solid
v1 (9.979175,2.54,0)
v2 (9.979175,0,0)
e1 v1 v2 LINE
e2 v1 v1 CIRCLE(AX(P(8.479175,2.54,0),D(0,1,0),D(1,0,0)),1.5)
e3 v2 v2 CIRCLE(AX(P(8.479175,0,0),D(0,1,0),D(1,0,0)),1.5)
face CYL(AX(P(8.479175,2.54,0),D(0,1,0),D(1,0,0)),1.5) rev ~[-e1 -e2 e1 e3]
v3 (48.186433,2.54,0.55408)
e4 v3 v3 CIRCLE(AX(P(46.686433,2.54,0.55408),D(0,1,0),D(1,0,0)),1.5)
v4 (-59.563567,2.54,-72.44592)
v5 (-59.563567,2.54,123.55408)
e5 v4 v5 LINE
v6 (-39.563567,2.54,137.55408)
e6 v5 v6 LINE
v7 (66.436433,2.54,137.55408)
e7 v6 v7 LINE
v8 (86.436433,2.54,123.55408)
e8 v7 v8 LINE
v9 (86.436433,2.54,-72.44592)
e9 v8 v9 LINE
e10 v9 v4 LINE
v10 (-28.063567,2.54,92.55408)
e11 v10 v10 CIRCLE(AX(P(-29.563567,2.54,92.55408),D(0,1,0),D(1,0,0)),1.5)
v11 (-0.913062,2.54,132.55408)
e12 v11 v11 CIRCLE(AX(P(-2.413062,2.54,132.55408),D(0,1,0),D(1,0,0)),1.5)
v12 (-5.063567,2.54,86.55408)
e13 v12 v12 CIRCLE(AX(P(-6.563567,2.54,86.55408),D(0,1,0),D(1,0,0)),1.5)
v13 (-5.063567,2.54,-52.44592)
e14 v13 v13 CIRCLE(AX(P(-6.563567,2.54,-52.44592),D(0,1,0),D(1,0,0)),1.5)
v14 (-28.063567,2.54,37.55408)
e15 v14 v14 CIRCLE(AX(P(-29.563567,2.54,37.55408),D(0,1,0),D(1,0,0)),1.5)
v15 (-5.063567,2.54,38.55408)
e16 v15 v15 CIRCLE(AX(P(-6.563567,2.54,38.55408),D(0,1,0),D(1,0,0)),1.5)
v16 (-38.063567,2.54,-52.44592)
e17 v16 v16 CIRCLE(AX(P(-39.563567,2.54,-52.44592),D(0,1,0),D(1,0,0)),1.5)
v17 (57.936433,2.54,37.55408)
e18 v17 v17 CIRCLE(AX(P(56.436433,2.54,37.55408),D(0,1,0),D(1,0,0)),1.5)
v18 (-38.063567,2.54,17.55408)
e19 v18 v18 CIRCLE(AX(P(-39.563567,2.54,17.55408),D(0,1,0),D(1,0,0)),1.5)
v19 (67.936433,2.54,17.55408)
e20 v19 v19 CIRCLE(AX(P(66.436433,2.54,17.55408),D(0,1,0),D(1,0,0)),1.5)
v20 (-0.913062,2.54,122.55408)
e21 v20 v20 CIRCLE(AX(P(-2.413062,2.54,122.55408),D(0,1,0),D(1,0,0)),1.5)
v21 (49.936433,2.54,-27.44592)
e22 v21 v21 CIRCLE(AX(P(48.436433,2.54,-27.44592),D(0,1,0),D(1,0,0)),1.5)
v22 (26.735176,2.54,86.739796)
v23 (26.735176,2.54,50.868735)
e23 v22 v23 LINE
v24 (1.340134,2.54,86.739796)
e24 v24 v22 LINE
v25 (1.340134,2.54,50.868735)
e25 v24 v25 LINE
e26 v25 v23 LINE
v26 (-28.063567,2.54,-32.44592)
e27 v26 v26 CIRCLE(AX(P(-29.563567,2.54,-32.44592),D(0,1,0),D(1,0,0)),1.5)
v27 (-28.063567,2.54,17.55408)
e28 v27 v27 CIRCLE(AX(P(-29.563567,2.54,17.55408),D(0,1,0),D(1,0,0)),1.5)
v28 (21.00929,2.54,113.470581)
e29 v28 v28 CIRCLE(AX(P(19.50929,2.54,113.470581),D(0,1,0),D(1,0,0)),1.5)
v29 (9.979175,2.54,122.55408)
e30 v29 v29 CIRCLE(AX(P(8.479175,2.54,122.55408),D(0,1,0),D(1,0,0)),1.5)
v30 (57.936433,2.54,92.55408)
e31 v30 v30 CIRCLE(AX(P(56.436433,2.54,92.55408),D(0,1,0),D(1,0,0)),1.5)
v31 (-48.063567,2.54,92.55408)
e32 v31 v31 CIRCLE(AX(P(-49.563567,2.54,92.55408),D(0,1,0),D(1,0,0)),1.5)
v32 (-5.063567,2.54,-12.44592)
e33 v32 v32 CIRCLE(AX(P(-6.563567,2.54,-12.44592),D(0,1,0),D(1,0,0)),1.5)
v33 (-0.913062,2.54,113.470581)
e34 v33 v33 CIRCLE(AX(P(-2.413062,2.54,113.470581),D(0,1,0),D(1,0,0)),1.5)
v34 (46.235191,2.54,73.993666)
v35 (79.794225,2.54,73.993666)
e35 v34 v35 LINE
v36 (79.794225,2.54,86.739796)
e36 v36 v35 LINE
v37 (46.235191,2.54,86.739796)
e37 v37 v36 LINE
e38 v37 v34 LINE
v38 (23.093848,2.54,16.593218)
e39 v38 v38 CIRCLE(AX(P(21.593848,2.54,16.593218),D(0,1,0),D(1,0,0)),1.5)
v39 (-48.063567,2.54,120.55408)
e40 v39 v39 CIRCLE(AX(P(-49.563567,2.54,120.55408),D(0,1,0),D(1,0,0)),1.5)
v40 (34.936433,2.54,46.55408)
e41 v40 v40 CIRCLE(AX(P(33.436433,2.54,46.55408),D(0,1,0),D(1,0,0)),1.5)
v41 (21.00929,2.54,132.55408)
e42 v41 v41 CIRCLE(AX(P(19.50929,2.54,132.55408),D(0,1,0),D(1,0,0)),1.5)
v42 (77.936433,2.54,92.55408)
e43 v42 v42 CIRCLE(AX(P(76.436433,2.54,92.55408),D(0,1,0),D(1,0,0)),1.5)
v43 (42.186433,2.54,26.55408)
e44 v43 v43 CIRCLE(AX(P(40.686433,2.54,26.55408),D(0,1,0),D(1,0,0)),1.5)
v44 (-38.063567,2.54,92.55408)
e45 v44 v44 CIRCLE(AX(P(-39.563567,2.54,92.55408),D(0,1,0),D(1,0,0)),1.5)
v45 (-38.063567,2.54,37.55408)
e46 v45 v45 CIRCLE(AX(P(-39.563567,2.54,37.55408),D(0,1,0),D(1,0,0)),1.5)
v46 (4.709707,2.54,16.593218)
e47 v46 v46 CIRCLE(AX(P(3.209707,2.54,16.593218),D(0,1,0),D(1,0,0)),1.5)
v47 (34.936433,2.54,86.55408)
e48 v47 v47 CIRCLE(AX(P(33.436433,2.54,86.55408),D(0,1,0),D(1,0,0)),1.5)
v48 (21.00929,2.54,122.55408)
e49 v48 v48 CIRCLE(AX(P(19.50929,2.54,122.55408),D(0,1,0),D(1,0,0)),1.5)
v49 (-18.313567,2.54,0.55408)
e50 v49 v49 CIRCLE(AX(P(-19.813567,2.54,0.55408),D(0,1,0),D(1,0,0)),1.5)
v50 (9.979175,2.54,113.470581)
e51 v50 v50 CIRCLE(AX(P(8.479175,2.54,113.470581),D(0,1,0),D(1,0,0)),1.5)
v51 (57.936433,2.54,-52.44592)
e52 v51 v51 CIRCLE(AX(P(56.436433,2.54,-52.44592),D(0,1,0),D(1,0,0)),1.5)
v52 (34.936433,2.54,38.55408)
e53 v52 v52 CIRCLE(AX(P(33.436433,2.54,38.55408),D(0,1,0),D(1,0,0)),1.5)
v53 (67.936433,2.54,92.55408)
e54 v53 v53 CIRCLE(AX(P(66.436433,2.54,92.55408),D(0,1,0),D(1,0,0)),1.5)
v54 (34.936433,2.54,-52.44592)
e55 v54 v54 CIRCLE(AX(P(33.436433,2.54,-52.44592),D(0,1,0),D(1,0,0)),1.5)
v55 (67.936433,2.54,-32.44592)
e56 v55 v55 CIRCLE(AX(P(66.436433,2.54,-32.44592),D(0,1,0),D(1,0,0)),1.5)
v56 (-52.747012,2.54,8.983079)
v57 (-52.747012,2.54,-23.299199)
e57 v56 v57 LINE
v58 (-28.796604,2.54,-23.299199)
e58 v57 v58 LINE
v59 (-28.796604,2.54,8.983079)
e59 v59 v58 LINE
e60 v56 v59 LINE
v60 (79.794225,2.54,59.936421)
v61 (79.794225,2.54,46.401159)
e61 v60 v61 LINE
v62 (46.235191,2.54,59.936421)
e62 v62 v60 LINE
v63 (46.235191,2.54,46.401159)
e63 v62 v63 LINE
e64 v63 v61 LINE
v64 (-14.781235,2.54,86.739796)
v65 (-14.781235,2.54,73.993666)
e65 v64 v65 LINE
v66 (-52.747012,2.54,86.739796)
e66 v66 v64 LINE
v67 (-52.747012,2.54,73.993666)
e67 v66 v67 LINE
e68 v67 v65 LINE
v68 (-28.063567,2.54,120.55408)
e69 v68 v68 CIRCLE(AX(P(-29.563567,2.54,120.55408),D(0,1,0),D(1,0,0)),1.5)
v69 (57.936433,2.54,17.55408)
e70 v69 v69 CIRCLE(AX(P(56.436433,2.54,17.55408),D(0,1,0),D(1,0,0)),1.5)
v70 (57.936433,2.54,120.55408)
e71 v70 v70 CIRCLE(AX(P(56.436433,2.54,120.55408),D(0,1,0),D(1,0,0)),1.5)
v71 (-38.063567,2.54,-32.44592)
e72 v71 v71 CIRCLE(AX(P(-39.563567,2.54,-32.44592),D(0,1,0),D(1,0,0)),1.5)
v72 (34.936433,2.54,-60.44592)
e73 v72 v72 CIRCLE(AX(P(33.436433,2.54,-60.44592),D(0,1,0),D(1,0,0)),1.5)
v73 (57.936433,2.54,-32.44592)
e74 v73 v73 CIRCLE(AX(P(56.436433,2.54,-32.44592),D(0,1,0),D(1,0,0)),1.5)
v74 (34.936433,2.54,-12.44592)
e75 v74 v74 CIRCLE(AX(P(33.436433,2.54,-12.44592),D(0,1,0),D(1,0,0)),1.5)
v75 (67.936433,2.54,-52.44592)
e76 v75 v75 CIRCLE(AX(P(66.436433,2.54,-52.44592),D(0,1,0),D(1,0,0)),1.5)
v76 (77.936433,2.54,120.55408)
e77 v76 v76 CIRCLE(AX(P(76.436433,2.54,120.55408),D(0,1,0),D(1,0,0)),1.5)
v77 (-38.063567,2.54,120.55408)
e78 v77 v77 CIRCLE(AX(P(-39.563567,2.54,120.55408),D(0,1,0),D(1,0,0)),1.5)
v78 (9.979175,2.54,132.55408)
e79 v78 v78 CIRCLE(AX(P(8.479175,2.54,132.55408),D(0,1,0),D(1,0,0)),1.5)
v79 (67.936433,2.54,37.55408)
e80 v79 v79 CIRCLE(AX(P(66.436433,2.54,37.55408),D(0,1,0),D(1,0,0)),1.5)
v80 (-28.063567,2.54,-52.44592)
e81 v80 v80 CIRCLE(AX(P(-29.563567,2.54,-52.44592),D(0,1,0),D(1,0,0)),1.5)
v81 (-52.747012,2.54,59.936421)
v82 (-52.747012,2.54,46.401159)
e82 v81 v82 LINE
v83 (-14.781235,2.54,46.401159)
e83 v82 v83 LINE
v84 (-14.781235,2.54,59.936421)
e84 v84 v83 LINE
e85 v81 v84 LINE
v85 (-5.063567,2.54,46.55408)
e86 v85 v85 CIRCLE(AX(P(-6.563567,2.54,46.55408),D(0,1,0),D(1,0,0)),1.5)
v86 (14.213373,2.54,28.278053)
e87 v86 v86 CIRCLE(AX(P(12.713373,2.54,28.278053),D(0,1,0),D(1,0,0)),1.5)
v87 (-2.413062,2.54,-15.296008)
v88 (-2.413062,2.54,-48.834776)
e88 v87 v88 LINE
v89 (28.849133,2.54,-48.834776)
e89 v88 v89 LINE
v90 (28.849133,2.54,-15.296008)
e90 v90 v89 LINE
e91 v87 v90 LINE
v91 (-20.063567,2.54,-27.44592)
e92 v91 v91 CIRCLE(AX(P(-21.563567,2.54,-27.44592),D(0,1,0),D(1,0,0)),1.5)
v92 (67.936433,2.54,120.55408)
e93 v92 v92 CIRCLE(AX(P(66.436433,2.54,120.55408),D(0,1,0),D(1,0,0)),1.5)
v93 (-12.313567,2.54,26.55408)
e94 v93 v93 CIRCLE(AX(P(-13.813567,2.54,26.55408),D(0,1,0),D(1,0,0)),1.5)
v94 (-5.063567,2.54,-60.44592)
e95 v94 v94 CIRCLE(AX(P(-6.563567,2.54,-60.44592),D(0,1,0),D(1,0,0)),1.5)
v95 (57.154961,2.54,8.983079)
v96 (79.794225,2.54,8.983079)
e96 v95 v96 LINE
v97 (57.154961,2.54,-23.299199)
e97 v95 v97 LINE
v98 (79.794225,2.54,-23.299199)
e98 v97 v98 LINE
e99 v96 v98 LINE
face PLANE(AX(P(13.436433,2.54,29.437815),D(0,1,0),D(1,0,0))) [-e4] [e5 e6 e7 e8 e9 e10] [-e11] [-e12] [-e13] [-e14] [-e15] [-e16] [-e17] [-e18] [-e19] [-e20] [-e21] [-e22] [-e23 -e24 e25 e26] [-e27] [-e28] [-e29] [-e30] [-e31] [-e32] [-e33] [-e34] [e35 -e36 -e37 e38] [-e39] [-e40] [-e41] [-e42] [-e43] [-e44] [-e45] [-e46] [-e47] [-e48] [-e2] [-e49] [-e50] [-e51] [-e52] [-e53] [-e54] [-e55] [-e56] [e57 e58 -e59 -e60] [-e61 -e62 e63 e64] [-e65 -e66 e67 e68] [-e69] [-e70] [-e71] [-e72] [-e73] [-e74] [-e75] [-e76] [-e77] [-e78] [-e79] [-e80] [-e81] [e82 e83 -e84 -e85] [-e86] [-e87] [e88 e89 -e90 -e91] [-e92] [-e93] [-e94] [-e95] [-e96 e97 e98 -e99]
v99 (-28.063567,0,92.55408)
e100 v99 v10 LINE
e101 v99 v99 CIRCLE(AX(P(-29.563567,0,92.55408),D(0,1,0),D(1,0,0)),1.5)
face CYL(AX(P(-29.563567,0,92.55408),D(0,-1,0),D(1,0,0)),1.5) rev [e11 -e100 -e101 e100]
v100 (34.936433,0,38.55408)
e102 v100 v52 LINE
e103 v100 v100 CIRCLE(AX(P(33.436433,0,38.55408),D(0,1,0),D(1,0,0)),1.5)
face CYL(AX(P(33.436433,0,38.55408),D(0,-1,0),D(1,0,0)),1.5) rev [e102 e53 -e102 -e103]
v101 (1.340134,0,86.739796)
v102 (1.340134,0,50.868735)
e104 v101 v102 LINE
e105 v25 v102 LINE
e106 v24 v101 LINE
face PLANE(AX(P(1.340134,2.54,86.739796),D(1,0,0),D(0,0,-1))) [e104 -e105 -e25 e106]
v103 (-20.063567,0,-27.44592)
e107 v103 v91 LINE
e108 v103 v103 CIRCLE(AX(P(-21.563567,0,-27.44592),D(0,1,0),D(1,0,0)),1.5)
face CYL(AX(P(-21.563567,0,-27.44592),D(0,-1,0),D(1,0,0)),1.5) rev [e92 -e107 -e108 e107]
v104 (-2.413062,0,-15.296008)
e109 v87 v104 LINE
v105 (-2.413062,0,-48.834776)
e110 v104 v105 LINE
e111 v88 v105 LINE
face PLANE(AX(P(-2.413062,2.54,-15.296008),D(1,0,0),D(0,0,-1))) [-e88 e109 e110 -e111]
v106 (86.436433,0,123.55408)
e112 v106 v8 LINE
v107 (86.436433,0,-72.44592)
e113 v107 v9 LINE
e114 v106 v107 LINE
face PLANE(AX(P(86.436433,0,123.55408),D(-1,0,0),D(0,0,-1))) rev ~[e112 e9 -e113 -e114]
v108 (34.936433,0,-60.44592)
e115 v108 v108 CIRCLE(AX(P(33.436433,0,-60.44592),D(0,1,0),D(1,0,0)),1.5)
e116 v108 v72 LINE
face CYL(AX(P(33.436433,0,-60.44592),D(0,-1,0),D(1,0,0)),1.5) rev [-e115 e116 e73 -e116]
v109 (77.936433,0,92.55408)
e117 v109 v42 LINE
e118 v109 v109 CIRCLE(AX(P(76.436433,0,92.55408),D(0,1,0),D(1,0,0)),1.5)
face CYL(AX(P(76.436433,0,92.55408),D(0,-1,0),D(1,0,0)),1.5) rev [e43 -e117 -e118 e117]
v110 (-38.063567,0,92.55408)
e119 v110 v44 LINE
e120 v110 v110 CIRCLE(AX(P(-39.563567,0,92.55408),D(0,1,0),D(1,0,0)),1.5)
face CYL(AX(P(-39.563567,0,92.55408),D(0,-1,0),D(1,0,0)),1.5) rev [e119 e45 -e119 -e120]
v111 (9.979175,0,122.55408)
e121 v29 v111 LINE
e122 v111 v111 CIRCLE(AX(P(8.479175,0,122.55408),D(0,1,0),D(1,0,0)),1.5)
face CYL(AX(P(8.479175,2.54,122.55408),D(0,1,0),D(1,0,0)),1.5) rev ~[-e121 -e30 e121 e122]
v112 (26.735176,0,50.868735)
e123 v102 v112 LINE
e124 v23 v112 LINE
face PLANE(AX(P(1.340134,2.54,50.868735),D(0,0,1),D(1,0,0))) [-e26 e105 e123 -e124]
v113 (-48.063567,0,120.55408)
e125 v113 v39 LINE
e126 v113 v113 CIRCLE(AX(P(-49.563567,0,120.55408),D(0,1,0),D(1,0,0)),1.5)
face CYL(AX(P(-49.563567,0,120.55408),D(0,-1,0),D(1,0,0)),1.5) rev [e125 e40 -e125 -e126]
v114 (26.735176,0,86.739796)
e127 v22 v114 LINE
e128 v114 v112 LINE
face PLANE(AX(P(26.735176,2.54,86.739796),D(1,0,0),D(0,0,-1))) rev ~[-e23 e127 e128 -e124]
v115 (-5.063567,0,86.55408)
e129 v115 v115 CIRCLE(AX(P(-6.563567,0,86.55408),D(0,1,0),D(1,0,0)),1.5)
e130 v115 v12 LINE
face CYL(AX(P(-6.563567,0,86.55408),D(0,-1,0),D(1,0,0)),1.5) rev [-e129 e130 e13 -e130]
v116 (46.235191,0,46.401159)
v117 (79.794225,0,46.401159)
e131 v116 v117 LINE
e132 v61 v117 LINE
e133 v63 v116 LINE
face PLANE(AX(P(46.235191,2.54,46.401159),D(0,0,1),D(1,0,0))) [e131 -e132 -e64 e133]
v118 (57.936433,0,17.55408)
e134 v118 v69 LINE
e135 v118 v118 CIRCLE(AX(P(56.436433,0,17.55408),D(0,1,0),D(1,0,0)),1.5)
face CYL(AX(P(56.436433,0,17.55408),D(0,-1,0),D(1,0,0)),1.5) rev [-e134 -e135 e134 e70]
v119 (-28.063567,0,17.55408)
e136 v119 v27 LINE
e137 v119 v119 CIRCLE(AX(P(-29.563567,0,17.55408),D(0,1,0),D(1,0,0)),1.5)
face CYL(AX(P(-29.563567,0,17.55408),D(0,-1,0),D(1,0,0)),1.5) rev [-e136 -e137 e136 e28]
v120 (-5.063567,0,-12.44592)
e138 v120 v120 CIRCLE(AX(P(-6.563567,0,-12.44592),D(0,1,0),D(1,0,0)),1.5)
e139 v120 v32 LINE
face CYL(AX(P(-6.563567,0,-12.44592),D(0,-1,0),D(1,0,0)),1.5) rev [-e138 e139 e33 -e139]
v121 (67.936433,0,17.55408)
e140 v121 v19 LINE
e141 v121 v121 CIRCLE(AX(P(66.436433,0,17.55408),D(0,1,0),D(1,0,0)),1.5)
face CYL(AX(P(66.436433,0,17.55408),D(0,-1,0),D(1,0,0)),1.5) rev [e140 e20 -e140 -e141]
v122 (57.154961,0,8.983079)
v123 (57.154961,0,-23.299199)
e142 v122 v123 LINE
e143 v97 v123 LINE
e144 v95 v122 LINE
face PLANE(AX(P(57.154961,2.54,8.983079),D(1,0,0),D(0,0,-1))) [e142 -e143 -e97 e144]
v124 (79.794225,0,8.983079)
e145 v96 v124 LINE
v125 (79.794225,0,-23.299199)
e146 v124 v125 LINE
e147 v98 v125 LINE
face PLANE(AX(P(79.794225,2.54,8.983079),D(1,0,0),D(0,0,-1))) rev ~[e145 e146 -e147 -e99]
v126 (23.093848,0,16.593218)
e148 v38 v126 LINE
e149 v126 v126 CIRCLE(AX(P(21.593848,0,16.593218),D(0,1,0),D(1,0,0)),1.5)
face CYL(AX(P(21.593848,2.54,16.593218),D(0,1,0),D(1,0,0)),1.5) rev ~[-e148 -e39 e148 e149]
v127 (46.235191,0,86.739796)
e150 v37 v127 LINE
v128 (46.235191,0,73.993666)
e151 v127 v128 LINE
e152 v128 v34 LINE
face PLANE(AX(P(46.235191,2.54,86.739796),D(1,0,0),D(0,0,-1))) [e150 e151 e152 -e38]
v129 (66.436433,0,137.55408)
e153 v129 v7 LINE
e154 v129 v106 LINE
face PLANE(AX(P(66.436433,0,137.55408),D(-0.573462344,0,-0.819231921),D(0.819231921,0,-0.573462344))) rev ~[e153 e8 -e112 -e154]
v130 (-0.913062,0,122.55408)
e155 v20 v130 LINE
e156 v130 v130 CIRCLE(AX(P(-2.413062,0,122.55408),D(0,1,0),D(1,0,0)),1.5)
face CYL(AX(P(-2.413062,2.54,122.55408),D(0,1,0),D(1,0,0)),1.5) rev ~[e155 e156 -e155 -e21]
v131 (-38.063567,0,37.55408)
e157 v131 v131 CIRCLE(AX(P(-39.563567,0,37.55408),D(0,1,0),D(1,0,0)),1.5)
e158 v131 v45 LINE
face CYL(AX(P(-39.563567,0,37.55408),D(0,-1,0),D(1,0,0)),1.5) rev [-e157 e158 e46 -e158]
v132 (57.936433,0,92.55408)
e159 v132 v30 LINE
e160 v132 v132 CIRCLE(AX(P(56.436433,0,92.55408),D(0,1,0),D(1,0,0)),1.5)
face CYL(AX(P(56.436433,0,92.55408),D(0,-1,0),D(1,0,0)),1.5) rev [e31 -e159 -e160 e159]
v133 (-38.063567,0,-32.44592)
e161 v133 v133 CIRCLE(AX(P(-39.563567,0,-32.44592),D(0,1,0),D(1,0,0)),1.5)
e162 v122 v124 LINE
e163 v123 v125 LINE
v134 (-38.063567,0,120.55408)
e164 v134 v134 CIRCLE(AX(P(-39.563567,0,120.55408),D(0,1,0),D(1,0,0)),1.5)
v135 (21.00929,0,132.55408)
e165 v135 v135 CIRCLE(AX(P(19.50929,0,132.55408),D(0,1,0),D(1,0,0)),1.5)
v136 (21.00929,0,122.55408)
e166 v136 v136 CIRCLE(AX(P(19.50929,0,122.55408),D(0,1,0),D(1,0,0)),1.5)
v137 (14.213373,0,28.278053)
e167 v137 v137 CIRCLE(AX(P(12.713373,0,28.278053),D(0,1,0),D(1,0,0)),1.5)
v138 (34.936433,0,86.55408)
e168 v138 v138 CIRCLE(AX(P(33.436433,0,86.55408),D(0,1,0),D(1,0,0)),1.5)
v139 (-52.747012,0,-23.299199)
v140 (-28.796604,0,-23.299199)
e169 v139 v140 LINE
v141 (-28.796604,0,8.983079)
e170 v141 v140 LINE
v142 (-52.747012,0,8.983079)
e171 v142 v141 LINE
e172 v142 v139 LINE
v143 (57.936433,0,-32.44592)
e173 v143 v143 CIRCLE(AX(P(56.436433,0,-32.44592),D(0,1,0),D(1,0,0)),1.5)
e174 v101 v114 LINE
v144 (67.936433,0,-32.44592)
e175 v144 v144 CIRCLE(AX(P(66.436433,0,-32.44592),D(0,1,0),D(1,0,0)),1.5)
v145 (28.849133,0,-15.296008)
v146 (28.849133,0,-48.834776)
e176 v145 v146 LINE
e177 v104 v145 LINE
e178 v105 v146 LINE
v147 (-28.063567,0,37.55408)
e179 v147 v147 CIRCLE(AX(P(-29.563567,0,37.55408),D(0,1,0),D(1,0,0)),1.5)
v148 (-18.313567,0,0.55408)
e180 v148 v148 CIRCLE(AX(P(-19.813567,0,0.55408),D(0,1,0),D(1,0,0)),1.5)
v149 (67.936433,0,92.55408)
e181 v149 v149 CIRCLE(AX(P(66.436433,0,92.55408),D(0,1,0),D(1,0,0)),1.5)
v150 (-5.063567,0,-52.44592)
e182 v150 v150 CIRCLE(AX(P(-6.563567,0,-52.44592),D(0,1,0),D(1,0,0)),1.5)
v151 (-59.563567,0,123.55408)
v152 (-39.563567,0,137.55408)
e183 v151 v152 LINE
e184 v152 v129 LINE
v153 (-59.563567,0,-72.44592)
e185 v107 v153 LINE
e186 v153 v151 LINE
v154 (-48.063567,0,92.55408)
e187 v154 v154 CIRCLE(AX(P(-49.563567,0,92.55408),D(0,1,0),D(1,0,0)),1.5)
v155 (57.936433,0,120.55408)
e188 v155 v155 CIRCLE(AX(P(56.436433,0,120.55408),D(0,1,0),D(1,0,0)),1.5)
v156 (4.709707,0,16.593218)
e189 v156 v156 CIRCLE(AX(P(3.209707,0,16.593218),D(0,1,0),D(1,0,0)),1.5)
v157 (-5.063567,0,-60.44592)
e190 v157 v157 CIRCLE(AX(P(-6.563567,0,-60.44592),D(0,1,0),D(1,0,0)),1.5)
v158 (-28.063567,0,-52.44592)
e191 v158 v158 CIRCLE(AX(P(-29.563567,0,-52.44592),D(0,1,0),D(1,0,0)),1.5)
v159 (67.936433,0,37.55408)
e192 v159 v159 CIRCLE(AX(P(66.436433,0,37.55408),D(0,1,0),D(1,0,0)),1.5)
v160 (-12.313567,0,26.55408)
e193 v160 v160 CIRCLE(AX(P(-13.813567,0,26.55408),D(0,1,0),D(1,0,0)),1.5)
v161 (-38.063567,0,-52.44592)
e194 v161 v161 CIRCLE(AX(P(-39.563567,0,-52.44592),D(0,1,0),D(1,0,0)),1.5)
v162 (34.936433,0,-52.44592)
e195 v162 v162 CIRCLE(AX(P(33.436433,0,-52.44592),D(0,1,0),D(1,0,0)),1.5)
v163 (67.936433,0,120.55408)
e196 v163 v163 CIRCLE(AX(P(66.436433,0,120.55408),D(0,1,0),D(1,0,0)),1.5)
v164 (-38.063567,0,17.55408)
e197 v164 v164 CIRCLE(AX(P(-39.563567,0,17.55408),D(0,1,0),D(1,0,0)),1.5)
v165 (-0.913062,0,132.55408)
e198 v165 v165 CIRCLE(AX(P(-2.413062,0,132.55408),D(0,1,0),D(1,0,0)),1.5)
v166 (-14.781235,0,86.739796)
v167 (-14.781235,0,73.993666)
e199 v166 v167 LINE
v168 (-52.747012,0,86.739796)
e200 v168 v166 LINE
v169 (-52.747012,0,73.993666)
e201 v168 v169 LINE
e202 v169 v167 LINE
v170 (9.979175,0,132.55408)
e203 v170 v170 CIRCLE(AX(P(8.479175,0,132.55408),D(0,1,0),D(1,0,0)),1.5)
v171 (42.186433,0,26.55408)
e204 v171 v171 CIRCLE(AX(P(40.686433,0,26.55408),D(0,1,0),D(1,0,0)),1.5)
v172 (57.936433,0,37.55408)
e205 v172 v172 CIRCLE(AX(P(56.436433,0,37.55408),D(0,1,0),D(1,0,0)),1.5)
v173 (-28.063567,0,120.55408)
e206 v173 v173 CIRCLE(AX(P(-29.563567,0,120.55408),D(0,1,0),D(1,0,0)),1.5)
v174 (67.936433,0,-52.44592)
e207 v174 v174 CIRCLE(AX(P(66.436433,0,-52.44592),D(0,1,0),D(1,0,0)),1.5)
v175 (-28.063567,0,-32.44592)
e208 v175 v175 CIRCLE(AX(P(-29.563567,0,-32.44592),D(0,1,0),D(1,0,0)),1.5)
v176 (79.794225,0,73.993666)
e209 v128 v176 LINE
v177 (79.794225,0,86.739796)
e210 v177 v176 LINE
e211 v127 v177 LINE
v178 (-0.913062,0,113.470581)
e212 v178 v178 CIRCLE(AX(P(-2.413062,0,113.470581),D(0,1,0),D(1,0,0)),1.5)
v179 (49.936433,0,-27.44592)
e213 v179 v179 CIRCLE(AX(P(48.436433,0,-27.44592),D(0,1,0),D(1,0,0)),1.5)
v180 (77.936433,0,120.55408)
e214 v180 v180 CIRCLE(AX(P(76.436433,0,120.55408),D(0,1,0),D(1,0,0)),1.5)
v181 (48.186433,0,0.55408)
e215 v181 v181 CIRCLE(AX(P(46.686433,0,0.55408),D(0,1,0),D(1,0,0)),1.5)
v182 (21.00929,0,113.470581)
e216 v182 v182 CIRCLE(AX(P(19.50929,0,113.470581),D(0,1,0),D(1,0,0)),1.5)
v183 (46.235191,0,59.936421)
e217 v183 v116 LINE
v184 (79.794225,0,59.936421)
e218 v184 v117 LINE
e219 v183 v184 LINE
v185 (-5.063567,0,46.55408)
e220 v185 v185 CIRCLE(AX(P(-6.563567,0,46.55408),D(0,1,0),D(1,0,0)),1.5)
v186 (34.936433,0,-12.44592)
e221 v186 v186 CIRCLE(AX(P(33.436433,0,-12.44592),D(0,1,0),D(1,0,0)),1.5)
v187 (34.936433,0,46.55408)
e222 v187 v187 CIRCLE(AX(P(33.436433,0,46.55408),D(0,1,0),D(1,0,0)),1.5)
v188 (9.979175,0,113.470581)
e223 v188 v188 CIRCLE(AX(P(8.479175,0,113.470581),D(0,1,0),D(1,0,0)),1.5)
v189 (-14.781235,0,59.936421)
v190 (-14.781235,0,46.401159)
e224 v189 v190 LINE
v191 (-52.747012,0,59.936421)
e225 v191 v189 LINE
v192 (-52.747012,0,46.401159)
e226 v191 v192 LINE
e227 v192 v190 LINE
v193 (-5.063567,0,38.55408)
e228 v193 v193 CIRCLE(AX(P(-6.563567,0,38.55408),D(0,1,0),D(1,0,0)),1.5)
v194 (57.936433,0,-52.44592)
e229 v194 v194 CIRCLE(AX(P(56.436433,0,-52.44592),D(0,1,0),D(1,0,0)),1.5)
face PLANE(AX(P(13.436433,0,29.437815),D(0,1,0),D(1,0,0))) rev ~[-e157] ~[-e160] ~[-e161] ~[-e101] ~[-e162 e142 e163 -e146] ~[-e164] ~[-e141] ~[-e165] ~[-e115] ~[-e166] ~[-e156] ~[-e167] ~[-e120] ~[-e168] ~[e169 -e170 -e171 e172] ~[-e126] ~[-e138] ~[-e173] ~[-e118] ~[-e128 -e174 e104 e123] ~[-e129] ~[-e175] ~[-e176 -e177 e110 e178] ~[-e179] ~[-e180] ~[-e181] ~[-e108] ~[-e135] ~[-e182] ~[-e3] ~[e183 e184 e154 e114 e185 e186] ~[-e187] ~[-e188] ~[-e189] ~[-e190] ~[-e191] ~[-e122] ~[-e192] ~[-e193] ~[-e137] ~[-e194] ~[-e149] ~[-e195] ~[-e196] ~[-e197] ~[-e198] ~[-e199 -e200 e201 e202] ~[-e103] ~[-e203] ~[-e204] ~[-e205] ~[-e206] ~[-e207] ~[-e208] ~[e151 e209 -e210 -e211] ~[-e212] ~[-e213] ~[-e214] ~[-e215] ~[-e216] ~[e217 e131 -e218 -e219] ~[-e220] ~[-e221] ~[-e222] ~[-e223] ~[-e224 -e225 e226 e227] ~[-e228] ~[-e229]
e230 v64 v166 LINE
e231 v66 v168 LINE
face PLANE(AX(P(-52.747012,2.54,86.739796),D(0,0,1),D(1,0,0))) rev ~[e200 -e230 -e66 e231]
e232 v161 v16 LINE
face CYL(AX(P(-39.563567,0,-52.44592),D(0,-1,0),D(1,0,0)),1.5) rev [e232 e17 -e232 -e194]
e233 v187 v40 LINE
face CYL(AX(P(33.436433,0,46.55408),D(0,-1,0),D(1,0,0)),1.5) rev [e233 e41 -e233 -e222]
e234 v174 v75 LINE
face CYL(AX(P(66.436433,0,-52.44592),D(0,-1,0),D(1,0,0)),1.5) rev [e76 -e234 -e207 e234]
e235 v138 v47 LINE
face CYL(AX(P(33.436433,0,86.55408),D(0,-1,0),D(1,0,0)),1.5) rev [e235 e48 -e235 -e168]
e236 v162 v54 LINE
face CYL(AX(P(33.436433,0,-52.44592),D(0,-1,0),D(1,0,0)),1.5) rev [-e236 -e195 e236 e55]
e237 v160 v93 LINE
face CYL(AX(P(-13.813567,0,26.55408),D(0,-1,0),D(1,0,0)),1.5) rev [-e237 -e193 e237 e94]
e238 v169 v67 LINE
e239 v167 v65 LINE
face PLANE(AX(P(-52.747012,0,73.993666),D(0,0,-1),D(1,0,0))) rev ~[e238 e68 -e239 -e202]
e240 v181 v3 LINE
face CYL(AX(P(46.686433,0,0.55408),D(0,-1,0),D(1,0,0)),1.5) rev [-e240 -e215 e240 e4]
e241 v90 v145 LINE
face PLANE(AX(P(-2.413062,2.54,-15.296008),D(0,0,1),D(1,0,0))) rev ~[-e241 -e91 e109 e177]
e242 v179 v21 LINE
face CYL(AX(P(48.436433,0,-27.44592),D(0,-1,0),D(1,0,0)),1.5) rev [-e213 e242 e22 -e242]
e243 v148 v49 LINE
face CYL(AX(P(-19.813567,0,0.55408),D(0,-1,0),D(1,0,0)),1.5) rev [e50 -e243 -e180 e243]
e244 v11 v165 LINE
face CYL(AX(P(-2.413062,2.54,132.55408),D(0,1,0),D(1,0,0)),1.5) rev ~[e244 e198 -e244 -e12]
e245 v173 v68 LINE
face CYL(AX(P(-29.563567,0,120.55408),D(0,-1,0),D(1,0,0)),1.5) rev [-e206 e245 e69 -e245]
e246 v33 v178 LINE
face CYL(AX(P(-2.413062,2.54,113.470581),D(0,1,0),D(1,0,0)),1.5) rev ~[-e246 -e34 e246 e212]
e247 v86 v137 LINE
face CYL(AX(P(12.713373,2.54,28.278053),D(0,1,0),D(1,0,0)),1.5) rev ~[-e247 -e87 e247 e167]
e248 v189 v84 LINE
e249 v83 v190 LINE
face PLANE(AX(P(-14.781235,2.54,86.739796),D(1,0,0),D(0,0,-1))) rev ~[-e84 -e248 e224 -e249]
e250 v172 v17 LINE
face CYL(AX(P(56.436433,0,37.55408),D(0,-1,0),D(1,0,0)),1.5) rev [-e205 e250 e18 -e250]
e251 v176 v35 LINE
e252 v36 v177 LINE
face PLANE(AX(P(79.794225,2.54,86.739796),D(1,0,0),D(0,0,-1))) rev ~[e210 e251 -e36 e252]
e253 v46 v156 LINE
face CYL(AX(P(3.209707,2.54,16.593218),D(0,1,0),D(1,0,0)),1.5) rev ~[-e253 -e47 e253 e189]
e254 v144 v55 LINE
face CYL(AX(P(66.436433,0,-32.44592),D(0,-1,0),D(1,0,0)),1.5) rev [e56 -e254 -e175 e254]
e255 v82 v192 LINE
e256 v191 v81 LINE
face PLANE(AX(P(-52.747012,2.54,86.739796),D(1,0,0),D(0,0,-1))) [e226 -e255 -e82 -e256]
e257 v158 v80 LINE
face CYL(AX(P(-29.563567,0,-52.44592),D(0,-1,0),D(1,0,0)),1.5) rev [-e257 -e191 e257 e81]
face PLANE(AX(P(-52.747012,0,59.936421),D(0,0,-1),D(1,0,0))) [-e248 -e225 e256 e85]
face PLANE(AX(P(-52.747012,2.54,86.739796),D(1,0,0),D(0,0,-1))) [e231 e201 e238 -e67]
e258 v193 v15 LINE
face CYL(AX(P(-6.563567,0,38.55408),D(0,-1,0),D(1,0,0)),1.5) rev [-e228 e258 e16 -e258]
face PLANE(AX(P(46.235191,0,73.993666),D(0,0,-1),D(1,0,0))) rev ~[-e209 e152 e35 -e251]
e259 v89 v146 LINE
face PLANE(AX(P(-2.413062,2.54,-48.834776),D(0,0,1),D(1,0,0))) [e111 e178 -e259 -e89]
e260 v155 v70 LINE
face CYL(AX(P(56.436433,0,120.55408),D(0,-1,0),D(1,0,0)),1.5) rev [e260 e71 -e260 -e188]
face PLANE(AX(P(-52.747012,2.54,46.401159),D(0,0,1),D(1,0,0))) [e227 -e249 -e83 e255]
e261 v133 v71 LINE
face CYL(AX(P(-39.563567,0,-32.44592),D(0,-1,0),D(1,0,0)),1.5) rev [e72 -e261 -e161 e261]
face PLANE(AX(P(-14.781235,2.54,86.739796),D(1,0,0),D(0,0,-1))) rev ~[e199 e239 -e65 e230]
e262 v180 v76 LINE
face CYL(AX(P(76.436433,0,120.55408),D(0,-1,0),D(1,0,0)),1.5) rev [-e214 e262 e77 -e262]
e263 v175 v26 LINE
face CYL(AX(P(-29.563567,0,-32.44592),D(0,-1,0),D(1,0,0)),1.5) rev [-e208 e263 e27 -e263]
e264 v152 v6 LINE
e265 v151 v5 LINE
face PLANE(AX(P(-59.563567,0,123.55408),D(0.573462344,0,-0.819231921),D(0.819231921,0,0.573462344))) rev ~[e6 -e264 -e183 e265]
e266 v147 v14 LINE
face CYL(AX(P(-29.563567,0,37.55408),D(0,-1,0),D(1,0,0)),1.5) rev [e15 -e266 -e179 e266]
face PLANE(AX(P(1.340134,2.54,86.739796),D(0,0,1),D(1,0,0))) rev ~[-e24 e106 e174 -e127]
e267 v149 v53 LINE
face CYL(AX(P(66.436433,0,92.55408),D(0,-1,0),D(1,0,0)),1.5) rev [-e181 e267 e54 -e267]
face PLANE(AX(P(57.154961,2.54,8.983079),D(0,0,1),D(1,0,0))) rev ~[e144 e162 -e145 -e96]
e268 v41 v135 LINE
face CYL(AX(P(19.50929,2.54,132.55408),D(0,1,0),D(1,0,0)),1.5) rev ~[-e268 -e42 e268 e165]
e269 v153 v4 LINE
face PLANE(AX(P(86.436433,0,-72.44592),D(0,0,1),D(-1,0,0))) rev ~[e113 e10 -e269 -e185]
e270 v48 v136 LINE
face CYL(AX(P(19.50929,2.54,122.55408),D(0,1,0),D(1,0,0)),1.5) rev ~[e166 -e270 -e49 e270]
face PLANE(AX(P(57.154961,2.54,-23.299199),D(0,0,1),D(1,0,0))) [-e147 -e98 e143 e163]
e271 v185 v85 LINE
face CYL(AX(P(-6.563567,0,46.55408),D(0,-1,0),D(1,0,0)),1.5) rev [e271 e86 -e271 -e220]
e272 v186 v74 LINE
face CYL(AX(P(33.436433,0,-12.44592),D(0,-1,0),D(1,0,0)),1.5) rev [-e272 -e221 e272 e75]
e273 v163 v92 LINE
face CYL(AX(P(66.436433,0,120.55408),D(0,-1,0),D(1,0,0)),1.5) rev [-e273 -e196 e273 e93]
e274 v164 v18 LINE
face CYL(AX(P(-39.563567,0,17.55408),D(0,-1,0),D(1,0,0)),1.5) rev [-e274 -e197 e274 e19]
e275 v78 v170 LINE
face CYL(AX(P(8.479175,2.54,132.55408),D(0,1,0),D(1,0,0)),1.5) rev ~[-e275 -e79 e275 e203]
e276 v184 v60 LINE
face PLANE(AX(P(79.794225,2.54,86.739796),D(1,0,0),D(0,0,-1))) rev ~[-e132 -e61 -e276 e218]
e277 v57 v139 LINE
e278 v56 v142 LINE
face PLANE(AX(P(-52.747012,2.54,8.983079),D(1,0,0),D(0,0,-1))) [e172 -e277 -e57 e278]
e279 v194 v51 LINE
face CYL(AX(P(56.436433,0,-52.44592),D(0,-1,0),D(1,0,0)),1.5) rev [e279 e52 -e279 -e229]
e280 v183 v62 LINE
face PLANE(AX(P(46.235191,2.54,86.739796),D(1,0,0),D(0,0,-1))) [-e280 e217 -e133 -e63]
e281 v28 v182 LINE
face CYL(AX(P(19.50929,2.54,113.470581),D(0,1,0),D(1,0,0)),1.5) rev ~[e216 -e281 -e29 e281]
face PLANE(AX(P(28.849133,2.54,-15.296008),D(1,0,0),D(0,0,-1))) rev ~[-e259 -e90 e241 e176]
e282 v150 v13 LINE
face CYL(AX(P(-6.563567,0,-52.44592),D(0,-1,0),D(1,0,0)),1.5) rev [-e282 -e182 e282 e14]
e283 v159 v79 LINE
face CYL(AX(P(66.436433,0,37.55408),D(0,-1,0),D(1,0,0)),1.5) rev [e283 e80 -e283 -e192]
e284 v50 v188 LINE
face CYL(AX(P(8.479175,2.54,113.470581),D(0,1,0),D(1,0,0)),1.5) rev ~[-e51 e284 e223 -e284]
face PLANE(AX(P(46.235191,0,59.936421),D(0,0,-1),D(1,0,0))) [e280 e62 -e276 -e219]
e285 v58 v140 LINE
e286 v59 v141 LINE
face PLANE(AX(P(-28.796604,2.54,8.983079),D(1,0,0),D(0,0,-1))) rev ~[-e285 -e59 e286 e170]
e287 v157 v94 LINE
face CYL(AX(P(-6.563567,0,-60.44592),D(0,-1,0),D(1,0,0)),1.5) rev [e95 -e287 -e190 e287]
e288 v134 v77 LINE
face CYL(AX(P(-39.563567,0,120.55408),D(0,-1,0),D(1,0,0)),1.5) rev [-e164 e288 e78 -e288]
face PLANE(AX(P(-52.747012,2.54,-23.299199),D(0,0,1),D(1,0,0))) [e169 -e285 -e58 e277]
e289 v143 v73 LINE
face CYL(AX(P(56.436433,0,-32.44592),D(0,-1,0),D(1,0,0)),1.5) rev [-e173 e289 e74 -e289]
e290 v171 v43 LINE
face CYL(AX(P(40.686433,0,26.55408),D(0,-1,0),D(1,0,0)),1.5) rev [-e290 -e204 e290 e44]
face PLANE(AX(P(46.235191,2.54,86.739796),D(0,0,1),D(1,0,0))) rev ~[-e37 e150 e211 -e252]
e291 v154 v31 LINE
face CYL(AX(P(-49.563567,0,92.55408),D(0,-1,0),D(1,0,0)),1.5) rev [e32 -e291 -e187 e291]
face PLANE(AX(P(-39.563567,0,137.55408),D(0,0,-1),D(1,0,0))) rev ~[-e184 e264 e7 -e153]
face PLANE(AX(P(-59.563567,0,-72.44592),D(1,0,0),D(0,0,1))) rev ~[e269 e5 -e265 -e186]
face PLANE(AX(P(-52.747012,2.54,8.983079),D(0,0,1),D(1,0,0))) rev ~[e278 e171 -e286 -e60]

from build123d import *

# Parameters (mm, degrees)
SKETCH1_R           = 1.5
BOSS_EXTRUDE1_DEPTH = 2.54
SKETCH3_W           = 31.262195004
SKETCH3_H           = 33.538767861
SKETCH3_W_2         = 23.950407972
SKETCH3_H_2         = 32.282278018
SKETCH3_W_3         = 37.965776447
SKETCH3_H_3         = 40.338637474
SKETCH3_W_4         = 25.395042547
SKETCH3_H_4         = 35.871060739
SKETCH3_W_5         = 33.559034537
SKETCH3_W_6         = 22.639264221
SKETCH3_R           = 1.5
CUT_EXTRUDE1_DEPTH  = 2.54
SKETCH4_W           = 37.965776447
SKETCH4_H           = 14.057244835
SKETCH4_W_2         = 33.559034537
BOSS_EXTRUDE2_DEPTH = 2.54


with BuildPart() as part:
    # Sketch1 → Boss-Extrude1 (new body)
    with BuildSketch(Plane(origin=(0, 0, 0), x_dir=(1, 0, 0), z_dir=(0, 1, 0))):
        Polygon((86.436432638, 72.445920304), (-59.563567362, 72.445920304), (-59.563567362, -123.554079696), (-39.563567362, -137.554079696), (66.436432638, -137.554079696), (86.436432638, -123.554079696), align=None)
        with Locations((-49.563567362, -120.554079696)):
            Circle(SKETCH1_R, mode=Mode.SUBTRACT)
        with Locations((-39.563567362, -120.554079696)):
            Circle(SKETCH1_R, mode=Mode.SUBTRACT)
        with Locations((-29.563567362, -120.554079696)):
            Circle(SKETCH1_R, mode=Mode.SUBTRACT)
        with Locations((-49.563567362, -92.554079696)):
            Circle(SKETCH1_R, mode=Mode.SUBTRACT)
        with Locations((-39.563567362, -92.554079696)):
            Circle(SKETCH1_R, mode=Mode.SUBTRACT)
        with Locations((-29.563567362, -92.554079696)):
            Circle(SKETCH1_R, mode=Mode.SUBTRACT)
        with Locations((-6.563567362, -86.554079696)):
            Circle(SKETCH1_R, mode=Mode.SUBTRACT)
        with Locations((-39.563567362, -37.554079696)):
            Circle(SKETCH1_R, mode=Mode.SUBTRACT)
        with Locations((-29.563567362, -37.554079696)):
            Circle(SKETCH1_R, mode=Mode.SUBTRACT)
        with Locations((-6.563567362, -46.554079696)):
            Circle(SKETCH1_R, mode=Mode.SUBTRACT)
        with Locations((-6.563567362, -38.554079696)):
            Circle(SKETCH1_R, mode=Mode.SUBTRACT)
        with Locations((33.436432638, -86.554079696)):
            Circle(SKETCH1_R, mode=Mode.SUBTRACT)
        with Locations((56.436432638, -120.554079696)):
            Circle(SKETCH1_R, mode=Mode.SUBTRACT)
        with Locations((66.436432638, -120.554079696)):
            Circle(SKETCH1_R, mode=Mode.SUBTRACT)
        with Locations((76.436432638, -120.554079696)):
            Circle(SKETCH1_R, mode=Mode.SUBTRACT)
        with Locations((56.436432638, -92.554079696)):
            Circle(SKETCH1_R, mode=Mode.SUBTRACT)
        with Locations((66.436432638, -92.554079696)):
            Circle(SKETCH1_R, mode=Mode.SUBTRACT)
        with Locations((76.436432638, -92.554079696)):
            Circle(SKETCH1_R, mode=Mode.SUBTRACT)
        with Locations((33.436432638, -46.554079696)):
            Circle(SKETCH1_R, mode=Mode.SUBTRACT)
        with Locations((33.436432638, -38.554079696)):
            Circle(SKETCH1_R, mode=Mode.SUBTRACT)
        with Locations((56.436432638, -37.554079696)):
            Circle(SKETCH1_R, mode=Mode.SUBTRACT)
        with Locations((66.436432638, -37.554079696)):
            Circle(SKETCH1_R, mode=Mode.SUBTRACT)
        with Locations((-39.563567362, -17.554079696)):
            Circle(SKETCH1_R, mode=Mode.SUBTRACT)
        with Locations((-29.563567362, -17.554079696)):
            Circle(SKETCH1_R, mode=Mode.SUBTRACT)
        with Locations((-13.813567362, -26.554079696)):
            Circle(SKETCH1_R, mode=Mode.SUBTRACT)
        with Locations((-19.813567362, -0.554079696)):
            Circle(SKETCH1_R, mode=Mode.SUBTRACT)
        with Locations((-6.563567362, 12.445920304)):
            Circle(SKETCH1_R, mode=Mode.SUBTRACT)
        with Locations((-39.563567362, 32.445920304)):
            Circle(SKETCH1_R, mode=Mode.SUBTRACT)
        with Locations((-29.563567362, 32.445920304)):
            Circle(SKETCH1_R, mode=Mode.SUBTRACT)
        with Locations((-39.563567362, 52.445920304)):
            Circle(SKETCH1_R, mode=Mode.SUBTRACT)
        with Locations((-29.563567362, 52.445920304)):
            Circle(SKETCH1_R, mode=Mode.SUBTRACT)
        with Locations((-21.563567362, 27.445920304)):
            Circle(SKETCH1_R, mode=Mode.SUBTRACT)
        with Locations((-6.563567362, 52.445920304)):
            Circle(SKETCH1_R, mode=Mode.SUBTRACT)
        with Locations((-6.563567362, 60.445920304)):
            Circle(SKETCH1_R, mode=Mode.SUBTRACT)
        with Locations((40.686432638, -26.554079696)):
            Circle(SKETCH1_R, mode=Mode.SUBTRACT)
        with Locations((46.686432638, -0.554079696)):
            Circle(SKETCH1_R, mode=Mode.SUBTRACT)
        with Locations((33.436432638, 12.445920304)):
            Circle(SKETCH1_R, mode=Mode.SUBTRACT)
        with Locations((56.436432638, -17.554079696)):
            Circle(SKETCH1_R, mode=Mode.SUBTRACT)
        with Locations((66.436432638, -17.554079696)):
            Circle(SKETCH1_R, mode=Mode.SUBTRACT)
        with Locations((48.436432638, 27.445920304)):
            Circle(SKETCH1_R, mode=Mode.SUBTRACT)
        with Locations((33.436432638, 52.445920304)):
            Circle(SKETCH1_R, mode=Mode.SUBTRACT)
        with Locations((33.436432638, 60.445920304)):
            Circle(SKETCH1_R, mode=Mode.SUBTRACT)
        with Locations((56.436432638, 32.445920304)):
            Circle(SKETCH1_R, mode=Mode.SUBTRACT)
        with Locations((66.436432638, 32.445920304)):
            Circle(SKETCH1_R, mode=Mode.SUBTRACT)
        with Locations((56.436432638, 52.445920304)):
            Circle(SKETCH1_R, mode=Mode.SUBTRACT)
        with Locations((66.436432638, 52.445920304)):
            Circle(SKETCH1_R, mode=Mode.SUBTRACT)
    extrude(amount=BOSS_EXTRUDE1_DEPTH)

    # Sketch3 → Cut-Extrude1 (cut)
    with BuildSketch(Plane(origin=(0, 2.54, 0), x_dir=(1, 0, 0), z_dir=(0, 1, 0))):
        with Locations((13.218035303, 32.06539189)):
            Rectangle(SKETCH3_W, SKETCH3_H)
        with Locations((-40.771807944, 7.158059835)):
            Rectangle(SKETCH3_W_2, SKETCH3_H_2)
        with Locations((-33.764123707, -66.570477409)):
            Rectangle(SKETCH3_W_3, SKETCH3_H_3)
        with Locations((14.037654844, -68.804265777)):
            Rectangle(SKETCH3_W_4, SKETCH3_H_4)
        with Locations((63.014708218, -66.570477409)):
            Rectangle(SKETCH3_W_5, SKETCH3_H_3)
        with Locations((68.474593376, 7.158059835)):
            Rectangle(SKETCH3_W_6, SKETCH3_H_2)
        with Locations((3.209707255, -16.593217859)):
            Circle(SKETCH3_R)
        with Locations((12.713373484, -28.278053387)):
            Circle(SKETCH3_R)
        with Locations((21.593848485, -16.593217859)):
            Circle(SKETCH3_R)
        with Locations((8.479175475, 0)):
            Circle(SKETCH3_R)
        with Locations((-2.413062199, -113.470581074)):
            Circle(SKETCH3_R)
        with Locations((8.479175475, -113.470581074)):
            Circle(SKETCH3_R)
        with Locations((19.509289574, -113.470581074)):
            Circle(SKETCH3_R)
        with Locations((19.509289574, -122.554079696)):
            Circle(SKETCH3_R)
        with Locations((-2.413062199, -122.554079696)):
            Circle(SKETCH3_R)
        with Locations((8.479175475, -122.554079696)):
            Circle(SKETCH3_R)
        with Locations((8.479175475, -132.554079696)):
            Circle(SKETCH3_R)
        with Locations((-2.413062199, -132.554079696)):
            Circle(SKETCH3_R)
        with Locations((19.509289574, -132.554079696)):
            Circle(SKETCH3_R)
    extrude(amount=-CUT_EXTRUDE1_DEPTH, mode=Mode.SUBTRACT)

    # Sketch4 → Boss-Extrude2 (add)
    with BuildSketch(Plane(origin=(0, 0, 0), x_dir=(1, 0, 0), z_dir=(0, 1, 0))):
        with Locations((-33.764123707, -66.965043616)):
            Rectangle(SKETCH4_W, SKETCH4_H)
        with Locations((63.014708218, -66.965043616)):
            Rectangle(SKETCH4_W_2, SKETCH4_H)
    extrude(amount=BOSS_EXTRUDE2_DEPTH)


solid = part.part
